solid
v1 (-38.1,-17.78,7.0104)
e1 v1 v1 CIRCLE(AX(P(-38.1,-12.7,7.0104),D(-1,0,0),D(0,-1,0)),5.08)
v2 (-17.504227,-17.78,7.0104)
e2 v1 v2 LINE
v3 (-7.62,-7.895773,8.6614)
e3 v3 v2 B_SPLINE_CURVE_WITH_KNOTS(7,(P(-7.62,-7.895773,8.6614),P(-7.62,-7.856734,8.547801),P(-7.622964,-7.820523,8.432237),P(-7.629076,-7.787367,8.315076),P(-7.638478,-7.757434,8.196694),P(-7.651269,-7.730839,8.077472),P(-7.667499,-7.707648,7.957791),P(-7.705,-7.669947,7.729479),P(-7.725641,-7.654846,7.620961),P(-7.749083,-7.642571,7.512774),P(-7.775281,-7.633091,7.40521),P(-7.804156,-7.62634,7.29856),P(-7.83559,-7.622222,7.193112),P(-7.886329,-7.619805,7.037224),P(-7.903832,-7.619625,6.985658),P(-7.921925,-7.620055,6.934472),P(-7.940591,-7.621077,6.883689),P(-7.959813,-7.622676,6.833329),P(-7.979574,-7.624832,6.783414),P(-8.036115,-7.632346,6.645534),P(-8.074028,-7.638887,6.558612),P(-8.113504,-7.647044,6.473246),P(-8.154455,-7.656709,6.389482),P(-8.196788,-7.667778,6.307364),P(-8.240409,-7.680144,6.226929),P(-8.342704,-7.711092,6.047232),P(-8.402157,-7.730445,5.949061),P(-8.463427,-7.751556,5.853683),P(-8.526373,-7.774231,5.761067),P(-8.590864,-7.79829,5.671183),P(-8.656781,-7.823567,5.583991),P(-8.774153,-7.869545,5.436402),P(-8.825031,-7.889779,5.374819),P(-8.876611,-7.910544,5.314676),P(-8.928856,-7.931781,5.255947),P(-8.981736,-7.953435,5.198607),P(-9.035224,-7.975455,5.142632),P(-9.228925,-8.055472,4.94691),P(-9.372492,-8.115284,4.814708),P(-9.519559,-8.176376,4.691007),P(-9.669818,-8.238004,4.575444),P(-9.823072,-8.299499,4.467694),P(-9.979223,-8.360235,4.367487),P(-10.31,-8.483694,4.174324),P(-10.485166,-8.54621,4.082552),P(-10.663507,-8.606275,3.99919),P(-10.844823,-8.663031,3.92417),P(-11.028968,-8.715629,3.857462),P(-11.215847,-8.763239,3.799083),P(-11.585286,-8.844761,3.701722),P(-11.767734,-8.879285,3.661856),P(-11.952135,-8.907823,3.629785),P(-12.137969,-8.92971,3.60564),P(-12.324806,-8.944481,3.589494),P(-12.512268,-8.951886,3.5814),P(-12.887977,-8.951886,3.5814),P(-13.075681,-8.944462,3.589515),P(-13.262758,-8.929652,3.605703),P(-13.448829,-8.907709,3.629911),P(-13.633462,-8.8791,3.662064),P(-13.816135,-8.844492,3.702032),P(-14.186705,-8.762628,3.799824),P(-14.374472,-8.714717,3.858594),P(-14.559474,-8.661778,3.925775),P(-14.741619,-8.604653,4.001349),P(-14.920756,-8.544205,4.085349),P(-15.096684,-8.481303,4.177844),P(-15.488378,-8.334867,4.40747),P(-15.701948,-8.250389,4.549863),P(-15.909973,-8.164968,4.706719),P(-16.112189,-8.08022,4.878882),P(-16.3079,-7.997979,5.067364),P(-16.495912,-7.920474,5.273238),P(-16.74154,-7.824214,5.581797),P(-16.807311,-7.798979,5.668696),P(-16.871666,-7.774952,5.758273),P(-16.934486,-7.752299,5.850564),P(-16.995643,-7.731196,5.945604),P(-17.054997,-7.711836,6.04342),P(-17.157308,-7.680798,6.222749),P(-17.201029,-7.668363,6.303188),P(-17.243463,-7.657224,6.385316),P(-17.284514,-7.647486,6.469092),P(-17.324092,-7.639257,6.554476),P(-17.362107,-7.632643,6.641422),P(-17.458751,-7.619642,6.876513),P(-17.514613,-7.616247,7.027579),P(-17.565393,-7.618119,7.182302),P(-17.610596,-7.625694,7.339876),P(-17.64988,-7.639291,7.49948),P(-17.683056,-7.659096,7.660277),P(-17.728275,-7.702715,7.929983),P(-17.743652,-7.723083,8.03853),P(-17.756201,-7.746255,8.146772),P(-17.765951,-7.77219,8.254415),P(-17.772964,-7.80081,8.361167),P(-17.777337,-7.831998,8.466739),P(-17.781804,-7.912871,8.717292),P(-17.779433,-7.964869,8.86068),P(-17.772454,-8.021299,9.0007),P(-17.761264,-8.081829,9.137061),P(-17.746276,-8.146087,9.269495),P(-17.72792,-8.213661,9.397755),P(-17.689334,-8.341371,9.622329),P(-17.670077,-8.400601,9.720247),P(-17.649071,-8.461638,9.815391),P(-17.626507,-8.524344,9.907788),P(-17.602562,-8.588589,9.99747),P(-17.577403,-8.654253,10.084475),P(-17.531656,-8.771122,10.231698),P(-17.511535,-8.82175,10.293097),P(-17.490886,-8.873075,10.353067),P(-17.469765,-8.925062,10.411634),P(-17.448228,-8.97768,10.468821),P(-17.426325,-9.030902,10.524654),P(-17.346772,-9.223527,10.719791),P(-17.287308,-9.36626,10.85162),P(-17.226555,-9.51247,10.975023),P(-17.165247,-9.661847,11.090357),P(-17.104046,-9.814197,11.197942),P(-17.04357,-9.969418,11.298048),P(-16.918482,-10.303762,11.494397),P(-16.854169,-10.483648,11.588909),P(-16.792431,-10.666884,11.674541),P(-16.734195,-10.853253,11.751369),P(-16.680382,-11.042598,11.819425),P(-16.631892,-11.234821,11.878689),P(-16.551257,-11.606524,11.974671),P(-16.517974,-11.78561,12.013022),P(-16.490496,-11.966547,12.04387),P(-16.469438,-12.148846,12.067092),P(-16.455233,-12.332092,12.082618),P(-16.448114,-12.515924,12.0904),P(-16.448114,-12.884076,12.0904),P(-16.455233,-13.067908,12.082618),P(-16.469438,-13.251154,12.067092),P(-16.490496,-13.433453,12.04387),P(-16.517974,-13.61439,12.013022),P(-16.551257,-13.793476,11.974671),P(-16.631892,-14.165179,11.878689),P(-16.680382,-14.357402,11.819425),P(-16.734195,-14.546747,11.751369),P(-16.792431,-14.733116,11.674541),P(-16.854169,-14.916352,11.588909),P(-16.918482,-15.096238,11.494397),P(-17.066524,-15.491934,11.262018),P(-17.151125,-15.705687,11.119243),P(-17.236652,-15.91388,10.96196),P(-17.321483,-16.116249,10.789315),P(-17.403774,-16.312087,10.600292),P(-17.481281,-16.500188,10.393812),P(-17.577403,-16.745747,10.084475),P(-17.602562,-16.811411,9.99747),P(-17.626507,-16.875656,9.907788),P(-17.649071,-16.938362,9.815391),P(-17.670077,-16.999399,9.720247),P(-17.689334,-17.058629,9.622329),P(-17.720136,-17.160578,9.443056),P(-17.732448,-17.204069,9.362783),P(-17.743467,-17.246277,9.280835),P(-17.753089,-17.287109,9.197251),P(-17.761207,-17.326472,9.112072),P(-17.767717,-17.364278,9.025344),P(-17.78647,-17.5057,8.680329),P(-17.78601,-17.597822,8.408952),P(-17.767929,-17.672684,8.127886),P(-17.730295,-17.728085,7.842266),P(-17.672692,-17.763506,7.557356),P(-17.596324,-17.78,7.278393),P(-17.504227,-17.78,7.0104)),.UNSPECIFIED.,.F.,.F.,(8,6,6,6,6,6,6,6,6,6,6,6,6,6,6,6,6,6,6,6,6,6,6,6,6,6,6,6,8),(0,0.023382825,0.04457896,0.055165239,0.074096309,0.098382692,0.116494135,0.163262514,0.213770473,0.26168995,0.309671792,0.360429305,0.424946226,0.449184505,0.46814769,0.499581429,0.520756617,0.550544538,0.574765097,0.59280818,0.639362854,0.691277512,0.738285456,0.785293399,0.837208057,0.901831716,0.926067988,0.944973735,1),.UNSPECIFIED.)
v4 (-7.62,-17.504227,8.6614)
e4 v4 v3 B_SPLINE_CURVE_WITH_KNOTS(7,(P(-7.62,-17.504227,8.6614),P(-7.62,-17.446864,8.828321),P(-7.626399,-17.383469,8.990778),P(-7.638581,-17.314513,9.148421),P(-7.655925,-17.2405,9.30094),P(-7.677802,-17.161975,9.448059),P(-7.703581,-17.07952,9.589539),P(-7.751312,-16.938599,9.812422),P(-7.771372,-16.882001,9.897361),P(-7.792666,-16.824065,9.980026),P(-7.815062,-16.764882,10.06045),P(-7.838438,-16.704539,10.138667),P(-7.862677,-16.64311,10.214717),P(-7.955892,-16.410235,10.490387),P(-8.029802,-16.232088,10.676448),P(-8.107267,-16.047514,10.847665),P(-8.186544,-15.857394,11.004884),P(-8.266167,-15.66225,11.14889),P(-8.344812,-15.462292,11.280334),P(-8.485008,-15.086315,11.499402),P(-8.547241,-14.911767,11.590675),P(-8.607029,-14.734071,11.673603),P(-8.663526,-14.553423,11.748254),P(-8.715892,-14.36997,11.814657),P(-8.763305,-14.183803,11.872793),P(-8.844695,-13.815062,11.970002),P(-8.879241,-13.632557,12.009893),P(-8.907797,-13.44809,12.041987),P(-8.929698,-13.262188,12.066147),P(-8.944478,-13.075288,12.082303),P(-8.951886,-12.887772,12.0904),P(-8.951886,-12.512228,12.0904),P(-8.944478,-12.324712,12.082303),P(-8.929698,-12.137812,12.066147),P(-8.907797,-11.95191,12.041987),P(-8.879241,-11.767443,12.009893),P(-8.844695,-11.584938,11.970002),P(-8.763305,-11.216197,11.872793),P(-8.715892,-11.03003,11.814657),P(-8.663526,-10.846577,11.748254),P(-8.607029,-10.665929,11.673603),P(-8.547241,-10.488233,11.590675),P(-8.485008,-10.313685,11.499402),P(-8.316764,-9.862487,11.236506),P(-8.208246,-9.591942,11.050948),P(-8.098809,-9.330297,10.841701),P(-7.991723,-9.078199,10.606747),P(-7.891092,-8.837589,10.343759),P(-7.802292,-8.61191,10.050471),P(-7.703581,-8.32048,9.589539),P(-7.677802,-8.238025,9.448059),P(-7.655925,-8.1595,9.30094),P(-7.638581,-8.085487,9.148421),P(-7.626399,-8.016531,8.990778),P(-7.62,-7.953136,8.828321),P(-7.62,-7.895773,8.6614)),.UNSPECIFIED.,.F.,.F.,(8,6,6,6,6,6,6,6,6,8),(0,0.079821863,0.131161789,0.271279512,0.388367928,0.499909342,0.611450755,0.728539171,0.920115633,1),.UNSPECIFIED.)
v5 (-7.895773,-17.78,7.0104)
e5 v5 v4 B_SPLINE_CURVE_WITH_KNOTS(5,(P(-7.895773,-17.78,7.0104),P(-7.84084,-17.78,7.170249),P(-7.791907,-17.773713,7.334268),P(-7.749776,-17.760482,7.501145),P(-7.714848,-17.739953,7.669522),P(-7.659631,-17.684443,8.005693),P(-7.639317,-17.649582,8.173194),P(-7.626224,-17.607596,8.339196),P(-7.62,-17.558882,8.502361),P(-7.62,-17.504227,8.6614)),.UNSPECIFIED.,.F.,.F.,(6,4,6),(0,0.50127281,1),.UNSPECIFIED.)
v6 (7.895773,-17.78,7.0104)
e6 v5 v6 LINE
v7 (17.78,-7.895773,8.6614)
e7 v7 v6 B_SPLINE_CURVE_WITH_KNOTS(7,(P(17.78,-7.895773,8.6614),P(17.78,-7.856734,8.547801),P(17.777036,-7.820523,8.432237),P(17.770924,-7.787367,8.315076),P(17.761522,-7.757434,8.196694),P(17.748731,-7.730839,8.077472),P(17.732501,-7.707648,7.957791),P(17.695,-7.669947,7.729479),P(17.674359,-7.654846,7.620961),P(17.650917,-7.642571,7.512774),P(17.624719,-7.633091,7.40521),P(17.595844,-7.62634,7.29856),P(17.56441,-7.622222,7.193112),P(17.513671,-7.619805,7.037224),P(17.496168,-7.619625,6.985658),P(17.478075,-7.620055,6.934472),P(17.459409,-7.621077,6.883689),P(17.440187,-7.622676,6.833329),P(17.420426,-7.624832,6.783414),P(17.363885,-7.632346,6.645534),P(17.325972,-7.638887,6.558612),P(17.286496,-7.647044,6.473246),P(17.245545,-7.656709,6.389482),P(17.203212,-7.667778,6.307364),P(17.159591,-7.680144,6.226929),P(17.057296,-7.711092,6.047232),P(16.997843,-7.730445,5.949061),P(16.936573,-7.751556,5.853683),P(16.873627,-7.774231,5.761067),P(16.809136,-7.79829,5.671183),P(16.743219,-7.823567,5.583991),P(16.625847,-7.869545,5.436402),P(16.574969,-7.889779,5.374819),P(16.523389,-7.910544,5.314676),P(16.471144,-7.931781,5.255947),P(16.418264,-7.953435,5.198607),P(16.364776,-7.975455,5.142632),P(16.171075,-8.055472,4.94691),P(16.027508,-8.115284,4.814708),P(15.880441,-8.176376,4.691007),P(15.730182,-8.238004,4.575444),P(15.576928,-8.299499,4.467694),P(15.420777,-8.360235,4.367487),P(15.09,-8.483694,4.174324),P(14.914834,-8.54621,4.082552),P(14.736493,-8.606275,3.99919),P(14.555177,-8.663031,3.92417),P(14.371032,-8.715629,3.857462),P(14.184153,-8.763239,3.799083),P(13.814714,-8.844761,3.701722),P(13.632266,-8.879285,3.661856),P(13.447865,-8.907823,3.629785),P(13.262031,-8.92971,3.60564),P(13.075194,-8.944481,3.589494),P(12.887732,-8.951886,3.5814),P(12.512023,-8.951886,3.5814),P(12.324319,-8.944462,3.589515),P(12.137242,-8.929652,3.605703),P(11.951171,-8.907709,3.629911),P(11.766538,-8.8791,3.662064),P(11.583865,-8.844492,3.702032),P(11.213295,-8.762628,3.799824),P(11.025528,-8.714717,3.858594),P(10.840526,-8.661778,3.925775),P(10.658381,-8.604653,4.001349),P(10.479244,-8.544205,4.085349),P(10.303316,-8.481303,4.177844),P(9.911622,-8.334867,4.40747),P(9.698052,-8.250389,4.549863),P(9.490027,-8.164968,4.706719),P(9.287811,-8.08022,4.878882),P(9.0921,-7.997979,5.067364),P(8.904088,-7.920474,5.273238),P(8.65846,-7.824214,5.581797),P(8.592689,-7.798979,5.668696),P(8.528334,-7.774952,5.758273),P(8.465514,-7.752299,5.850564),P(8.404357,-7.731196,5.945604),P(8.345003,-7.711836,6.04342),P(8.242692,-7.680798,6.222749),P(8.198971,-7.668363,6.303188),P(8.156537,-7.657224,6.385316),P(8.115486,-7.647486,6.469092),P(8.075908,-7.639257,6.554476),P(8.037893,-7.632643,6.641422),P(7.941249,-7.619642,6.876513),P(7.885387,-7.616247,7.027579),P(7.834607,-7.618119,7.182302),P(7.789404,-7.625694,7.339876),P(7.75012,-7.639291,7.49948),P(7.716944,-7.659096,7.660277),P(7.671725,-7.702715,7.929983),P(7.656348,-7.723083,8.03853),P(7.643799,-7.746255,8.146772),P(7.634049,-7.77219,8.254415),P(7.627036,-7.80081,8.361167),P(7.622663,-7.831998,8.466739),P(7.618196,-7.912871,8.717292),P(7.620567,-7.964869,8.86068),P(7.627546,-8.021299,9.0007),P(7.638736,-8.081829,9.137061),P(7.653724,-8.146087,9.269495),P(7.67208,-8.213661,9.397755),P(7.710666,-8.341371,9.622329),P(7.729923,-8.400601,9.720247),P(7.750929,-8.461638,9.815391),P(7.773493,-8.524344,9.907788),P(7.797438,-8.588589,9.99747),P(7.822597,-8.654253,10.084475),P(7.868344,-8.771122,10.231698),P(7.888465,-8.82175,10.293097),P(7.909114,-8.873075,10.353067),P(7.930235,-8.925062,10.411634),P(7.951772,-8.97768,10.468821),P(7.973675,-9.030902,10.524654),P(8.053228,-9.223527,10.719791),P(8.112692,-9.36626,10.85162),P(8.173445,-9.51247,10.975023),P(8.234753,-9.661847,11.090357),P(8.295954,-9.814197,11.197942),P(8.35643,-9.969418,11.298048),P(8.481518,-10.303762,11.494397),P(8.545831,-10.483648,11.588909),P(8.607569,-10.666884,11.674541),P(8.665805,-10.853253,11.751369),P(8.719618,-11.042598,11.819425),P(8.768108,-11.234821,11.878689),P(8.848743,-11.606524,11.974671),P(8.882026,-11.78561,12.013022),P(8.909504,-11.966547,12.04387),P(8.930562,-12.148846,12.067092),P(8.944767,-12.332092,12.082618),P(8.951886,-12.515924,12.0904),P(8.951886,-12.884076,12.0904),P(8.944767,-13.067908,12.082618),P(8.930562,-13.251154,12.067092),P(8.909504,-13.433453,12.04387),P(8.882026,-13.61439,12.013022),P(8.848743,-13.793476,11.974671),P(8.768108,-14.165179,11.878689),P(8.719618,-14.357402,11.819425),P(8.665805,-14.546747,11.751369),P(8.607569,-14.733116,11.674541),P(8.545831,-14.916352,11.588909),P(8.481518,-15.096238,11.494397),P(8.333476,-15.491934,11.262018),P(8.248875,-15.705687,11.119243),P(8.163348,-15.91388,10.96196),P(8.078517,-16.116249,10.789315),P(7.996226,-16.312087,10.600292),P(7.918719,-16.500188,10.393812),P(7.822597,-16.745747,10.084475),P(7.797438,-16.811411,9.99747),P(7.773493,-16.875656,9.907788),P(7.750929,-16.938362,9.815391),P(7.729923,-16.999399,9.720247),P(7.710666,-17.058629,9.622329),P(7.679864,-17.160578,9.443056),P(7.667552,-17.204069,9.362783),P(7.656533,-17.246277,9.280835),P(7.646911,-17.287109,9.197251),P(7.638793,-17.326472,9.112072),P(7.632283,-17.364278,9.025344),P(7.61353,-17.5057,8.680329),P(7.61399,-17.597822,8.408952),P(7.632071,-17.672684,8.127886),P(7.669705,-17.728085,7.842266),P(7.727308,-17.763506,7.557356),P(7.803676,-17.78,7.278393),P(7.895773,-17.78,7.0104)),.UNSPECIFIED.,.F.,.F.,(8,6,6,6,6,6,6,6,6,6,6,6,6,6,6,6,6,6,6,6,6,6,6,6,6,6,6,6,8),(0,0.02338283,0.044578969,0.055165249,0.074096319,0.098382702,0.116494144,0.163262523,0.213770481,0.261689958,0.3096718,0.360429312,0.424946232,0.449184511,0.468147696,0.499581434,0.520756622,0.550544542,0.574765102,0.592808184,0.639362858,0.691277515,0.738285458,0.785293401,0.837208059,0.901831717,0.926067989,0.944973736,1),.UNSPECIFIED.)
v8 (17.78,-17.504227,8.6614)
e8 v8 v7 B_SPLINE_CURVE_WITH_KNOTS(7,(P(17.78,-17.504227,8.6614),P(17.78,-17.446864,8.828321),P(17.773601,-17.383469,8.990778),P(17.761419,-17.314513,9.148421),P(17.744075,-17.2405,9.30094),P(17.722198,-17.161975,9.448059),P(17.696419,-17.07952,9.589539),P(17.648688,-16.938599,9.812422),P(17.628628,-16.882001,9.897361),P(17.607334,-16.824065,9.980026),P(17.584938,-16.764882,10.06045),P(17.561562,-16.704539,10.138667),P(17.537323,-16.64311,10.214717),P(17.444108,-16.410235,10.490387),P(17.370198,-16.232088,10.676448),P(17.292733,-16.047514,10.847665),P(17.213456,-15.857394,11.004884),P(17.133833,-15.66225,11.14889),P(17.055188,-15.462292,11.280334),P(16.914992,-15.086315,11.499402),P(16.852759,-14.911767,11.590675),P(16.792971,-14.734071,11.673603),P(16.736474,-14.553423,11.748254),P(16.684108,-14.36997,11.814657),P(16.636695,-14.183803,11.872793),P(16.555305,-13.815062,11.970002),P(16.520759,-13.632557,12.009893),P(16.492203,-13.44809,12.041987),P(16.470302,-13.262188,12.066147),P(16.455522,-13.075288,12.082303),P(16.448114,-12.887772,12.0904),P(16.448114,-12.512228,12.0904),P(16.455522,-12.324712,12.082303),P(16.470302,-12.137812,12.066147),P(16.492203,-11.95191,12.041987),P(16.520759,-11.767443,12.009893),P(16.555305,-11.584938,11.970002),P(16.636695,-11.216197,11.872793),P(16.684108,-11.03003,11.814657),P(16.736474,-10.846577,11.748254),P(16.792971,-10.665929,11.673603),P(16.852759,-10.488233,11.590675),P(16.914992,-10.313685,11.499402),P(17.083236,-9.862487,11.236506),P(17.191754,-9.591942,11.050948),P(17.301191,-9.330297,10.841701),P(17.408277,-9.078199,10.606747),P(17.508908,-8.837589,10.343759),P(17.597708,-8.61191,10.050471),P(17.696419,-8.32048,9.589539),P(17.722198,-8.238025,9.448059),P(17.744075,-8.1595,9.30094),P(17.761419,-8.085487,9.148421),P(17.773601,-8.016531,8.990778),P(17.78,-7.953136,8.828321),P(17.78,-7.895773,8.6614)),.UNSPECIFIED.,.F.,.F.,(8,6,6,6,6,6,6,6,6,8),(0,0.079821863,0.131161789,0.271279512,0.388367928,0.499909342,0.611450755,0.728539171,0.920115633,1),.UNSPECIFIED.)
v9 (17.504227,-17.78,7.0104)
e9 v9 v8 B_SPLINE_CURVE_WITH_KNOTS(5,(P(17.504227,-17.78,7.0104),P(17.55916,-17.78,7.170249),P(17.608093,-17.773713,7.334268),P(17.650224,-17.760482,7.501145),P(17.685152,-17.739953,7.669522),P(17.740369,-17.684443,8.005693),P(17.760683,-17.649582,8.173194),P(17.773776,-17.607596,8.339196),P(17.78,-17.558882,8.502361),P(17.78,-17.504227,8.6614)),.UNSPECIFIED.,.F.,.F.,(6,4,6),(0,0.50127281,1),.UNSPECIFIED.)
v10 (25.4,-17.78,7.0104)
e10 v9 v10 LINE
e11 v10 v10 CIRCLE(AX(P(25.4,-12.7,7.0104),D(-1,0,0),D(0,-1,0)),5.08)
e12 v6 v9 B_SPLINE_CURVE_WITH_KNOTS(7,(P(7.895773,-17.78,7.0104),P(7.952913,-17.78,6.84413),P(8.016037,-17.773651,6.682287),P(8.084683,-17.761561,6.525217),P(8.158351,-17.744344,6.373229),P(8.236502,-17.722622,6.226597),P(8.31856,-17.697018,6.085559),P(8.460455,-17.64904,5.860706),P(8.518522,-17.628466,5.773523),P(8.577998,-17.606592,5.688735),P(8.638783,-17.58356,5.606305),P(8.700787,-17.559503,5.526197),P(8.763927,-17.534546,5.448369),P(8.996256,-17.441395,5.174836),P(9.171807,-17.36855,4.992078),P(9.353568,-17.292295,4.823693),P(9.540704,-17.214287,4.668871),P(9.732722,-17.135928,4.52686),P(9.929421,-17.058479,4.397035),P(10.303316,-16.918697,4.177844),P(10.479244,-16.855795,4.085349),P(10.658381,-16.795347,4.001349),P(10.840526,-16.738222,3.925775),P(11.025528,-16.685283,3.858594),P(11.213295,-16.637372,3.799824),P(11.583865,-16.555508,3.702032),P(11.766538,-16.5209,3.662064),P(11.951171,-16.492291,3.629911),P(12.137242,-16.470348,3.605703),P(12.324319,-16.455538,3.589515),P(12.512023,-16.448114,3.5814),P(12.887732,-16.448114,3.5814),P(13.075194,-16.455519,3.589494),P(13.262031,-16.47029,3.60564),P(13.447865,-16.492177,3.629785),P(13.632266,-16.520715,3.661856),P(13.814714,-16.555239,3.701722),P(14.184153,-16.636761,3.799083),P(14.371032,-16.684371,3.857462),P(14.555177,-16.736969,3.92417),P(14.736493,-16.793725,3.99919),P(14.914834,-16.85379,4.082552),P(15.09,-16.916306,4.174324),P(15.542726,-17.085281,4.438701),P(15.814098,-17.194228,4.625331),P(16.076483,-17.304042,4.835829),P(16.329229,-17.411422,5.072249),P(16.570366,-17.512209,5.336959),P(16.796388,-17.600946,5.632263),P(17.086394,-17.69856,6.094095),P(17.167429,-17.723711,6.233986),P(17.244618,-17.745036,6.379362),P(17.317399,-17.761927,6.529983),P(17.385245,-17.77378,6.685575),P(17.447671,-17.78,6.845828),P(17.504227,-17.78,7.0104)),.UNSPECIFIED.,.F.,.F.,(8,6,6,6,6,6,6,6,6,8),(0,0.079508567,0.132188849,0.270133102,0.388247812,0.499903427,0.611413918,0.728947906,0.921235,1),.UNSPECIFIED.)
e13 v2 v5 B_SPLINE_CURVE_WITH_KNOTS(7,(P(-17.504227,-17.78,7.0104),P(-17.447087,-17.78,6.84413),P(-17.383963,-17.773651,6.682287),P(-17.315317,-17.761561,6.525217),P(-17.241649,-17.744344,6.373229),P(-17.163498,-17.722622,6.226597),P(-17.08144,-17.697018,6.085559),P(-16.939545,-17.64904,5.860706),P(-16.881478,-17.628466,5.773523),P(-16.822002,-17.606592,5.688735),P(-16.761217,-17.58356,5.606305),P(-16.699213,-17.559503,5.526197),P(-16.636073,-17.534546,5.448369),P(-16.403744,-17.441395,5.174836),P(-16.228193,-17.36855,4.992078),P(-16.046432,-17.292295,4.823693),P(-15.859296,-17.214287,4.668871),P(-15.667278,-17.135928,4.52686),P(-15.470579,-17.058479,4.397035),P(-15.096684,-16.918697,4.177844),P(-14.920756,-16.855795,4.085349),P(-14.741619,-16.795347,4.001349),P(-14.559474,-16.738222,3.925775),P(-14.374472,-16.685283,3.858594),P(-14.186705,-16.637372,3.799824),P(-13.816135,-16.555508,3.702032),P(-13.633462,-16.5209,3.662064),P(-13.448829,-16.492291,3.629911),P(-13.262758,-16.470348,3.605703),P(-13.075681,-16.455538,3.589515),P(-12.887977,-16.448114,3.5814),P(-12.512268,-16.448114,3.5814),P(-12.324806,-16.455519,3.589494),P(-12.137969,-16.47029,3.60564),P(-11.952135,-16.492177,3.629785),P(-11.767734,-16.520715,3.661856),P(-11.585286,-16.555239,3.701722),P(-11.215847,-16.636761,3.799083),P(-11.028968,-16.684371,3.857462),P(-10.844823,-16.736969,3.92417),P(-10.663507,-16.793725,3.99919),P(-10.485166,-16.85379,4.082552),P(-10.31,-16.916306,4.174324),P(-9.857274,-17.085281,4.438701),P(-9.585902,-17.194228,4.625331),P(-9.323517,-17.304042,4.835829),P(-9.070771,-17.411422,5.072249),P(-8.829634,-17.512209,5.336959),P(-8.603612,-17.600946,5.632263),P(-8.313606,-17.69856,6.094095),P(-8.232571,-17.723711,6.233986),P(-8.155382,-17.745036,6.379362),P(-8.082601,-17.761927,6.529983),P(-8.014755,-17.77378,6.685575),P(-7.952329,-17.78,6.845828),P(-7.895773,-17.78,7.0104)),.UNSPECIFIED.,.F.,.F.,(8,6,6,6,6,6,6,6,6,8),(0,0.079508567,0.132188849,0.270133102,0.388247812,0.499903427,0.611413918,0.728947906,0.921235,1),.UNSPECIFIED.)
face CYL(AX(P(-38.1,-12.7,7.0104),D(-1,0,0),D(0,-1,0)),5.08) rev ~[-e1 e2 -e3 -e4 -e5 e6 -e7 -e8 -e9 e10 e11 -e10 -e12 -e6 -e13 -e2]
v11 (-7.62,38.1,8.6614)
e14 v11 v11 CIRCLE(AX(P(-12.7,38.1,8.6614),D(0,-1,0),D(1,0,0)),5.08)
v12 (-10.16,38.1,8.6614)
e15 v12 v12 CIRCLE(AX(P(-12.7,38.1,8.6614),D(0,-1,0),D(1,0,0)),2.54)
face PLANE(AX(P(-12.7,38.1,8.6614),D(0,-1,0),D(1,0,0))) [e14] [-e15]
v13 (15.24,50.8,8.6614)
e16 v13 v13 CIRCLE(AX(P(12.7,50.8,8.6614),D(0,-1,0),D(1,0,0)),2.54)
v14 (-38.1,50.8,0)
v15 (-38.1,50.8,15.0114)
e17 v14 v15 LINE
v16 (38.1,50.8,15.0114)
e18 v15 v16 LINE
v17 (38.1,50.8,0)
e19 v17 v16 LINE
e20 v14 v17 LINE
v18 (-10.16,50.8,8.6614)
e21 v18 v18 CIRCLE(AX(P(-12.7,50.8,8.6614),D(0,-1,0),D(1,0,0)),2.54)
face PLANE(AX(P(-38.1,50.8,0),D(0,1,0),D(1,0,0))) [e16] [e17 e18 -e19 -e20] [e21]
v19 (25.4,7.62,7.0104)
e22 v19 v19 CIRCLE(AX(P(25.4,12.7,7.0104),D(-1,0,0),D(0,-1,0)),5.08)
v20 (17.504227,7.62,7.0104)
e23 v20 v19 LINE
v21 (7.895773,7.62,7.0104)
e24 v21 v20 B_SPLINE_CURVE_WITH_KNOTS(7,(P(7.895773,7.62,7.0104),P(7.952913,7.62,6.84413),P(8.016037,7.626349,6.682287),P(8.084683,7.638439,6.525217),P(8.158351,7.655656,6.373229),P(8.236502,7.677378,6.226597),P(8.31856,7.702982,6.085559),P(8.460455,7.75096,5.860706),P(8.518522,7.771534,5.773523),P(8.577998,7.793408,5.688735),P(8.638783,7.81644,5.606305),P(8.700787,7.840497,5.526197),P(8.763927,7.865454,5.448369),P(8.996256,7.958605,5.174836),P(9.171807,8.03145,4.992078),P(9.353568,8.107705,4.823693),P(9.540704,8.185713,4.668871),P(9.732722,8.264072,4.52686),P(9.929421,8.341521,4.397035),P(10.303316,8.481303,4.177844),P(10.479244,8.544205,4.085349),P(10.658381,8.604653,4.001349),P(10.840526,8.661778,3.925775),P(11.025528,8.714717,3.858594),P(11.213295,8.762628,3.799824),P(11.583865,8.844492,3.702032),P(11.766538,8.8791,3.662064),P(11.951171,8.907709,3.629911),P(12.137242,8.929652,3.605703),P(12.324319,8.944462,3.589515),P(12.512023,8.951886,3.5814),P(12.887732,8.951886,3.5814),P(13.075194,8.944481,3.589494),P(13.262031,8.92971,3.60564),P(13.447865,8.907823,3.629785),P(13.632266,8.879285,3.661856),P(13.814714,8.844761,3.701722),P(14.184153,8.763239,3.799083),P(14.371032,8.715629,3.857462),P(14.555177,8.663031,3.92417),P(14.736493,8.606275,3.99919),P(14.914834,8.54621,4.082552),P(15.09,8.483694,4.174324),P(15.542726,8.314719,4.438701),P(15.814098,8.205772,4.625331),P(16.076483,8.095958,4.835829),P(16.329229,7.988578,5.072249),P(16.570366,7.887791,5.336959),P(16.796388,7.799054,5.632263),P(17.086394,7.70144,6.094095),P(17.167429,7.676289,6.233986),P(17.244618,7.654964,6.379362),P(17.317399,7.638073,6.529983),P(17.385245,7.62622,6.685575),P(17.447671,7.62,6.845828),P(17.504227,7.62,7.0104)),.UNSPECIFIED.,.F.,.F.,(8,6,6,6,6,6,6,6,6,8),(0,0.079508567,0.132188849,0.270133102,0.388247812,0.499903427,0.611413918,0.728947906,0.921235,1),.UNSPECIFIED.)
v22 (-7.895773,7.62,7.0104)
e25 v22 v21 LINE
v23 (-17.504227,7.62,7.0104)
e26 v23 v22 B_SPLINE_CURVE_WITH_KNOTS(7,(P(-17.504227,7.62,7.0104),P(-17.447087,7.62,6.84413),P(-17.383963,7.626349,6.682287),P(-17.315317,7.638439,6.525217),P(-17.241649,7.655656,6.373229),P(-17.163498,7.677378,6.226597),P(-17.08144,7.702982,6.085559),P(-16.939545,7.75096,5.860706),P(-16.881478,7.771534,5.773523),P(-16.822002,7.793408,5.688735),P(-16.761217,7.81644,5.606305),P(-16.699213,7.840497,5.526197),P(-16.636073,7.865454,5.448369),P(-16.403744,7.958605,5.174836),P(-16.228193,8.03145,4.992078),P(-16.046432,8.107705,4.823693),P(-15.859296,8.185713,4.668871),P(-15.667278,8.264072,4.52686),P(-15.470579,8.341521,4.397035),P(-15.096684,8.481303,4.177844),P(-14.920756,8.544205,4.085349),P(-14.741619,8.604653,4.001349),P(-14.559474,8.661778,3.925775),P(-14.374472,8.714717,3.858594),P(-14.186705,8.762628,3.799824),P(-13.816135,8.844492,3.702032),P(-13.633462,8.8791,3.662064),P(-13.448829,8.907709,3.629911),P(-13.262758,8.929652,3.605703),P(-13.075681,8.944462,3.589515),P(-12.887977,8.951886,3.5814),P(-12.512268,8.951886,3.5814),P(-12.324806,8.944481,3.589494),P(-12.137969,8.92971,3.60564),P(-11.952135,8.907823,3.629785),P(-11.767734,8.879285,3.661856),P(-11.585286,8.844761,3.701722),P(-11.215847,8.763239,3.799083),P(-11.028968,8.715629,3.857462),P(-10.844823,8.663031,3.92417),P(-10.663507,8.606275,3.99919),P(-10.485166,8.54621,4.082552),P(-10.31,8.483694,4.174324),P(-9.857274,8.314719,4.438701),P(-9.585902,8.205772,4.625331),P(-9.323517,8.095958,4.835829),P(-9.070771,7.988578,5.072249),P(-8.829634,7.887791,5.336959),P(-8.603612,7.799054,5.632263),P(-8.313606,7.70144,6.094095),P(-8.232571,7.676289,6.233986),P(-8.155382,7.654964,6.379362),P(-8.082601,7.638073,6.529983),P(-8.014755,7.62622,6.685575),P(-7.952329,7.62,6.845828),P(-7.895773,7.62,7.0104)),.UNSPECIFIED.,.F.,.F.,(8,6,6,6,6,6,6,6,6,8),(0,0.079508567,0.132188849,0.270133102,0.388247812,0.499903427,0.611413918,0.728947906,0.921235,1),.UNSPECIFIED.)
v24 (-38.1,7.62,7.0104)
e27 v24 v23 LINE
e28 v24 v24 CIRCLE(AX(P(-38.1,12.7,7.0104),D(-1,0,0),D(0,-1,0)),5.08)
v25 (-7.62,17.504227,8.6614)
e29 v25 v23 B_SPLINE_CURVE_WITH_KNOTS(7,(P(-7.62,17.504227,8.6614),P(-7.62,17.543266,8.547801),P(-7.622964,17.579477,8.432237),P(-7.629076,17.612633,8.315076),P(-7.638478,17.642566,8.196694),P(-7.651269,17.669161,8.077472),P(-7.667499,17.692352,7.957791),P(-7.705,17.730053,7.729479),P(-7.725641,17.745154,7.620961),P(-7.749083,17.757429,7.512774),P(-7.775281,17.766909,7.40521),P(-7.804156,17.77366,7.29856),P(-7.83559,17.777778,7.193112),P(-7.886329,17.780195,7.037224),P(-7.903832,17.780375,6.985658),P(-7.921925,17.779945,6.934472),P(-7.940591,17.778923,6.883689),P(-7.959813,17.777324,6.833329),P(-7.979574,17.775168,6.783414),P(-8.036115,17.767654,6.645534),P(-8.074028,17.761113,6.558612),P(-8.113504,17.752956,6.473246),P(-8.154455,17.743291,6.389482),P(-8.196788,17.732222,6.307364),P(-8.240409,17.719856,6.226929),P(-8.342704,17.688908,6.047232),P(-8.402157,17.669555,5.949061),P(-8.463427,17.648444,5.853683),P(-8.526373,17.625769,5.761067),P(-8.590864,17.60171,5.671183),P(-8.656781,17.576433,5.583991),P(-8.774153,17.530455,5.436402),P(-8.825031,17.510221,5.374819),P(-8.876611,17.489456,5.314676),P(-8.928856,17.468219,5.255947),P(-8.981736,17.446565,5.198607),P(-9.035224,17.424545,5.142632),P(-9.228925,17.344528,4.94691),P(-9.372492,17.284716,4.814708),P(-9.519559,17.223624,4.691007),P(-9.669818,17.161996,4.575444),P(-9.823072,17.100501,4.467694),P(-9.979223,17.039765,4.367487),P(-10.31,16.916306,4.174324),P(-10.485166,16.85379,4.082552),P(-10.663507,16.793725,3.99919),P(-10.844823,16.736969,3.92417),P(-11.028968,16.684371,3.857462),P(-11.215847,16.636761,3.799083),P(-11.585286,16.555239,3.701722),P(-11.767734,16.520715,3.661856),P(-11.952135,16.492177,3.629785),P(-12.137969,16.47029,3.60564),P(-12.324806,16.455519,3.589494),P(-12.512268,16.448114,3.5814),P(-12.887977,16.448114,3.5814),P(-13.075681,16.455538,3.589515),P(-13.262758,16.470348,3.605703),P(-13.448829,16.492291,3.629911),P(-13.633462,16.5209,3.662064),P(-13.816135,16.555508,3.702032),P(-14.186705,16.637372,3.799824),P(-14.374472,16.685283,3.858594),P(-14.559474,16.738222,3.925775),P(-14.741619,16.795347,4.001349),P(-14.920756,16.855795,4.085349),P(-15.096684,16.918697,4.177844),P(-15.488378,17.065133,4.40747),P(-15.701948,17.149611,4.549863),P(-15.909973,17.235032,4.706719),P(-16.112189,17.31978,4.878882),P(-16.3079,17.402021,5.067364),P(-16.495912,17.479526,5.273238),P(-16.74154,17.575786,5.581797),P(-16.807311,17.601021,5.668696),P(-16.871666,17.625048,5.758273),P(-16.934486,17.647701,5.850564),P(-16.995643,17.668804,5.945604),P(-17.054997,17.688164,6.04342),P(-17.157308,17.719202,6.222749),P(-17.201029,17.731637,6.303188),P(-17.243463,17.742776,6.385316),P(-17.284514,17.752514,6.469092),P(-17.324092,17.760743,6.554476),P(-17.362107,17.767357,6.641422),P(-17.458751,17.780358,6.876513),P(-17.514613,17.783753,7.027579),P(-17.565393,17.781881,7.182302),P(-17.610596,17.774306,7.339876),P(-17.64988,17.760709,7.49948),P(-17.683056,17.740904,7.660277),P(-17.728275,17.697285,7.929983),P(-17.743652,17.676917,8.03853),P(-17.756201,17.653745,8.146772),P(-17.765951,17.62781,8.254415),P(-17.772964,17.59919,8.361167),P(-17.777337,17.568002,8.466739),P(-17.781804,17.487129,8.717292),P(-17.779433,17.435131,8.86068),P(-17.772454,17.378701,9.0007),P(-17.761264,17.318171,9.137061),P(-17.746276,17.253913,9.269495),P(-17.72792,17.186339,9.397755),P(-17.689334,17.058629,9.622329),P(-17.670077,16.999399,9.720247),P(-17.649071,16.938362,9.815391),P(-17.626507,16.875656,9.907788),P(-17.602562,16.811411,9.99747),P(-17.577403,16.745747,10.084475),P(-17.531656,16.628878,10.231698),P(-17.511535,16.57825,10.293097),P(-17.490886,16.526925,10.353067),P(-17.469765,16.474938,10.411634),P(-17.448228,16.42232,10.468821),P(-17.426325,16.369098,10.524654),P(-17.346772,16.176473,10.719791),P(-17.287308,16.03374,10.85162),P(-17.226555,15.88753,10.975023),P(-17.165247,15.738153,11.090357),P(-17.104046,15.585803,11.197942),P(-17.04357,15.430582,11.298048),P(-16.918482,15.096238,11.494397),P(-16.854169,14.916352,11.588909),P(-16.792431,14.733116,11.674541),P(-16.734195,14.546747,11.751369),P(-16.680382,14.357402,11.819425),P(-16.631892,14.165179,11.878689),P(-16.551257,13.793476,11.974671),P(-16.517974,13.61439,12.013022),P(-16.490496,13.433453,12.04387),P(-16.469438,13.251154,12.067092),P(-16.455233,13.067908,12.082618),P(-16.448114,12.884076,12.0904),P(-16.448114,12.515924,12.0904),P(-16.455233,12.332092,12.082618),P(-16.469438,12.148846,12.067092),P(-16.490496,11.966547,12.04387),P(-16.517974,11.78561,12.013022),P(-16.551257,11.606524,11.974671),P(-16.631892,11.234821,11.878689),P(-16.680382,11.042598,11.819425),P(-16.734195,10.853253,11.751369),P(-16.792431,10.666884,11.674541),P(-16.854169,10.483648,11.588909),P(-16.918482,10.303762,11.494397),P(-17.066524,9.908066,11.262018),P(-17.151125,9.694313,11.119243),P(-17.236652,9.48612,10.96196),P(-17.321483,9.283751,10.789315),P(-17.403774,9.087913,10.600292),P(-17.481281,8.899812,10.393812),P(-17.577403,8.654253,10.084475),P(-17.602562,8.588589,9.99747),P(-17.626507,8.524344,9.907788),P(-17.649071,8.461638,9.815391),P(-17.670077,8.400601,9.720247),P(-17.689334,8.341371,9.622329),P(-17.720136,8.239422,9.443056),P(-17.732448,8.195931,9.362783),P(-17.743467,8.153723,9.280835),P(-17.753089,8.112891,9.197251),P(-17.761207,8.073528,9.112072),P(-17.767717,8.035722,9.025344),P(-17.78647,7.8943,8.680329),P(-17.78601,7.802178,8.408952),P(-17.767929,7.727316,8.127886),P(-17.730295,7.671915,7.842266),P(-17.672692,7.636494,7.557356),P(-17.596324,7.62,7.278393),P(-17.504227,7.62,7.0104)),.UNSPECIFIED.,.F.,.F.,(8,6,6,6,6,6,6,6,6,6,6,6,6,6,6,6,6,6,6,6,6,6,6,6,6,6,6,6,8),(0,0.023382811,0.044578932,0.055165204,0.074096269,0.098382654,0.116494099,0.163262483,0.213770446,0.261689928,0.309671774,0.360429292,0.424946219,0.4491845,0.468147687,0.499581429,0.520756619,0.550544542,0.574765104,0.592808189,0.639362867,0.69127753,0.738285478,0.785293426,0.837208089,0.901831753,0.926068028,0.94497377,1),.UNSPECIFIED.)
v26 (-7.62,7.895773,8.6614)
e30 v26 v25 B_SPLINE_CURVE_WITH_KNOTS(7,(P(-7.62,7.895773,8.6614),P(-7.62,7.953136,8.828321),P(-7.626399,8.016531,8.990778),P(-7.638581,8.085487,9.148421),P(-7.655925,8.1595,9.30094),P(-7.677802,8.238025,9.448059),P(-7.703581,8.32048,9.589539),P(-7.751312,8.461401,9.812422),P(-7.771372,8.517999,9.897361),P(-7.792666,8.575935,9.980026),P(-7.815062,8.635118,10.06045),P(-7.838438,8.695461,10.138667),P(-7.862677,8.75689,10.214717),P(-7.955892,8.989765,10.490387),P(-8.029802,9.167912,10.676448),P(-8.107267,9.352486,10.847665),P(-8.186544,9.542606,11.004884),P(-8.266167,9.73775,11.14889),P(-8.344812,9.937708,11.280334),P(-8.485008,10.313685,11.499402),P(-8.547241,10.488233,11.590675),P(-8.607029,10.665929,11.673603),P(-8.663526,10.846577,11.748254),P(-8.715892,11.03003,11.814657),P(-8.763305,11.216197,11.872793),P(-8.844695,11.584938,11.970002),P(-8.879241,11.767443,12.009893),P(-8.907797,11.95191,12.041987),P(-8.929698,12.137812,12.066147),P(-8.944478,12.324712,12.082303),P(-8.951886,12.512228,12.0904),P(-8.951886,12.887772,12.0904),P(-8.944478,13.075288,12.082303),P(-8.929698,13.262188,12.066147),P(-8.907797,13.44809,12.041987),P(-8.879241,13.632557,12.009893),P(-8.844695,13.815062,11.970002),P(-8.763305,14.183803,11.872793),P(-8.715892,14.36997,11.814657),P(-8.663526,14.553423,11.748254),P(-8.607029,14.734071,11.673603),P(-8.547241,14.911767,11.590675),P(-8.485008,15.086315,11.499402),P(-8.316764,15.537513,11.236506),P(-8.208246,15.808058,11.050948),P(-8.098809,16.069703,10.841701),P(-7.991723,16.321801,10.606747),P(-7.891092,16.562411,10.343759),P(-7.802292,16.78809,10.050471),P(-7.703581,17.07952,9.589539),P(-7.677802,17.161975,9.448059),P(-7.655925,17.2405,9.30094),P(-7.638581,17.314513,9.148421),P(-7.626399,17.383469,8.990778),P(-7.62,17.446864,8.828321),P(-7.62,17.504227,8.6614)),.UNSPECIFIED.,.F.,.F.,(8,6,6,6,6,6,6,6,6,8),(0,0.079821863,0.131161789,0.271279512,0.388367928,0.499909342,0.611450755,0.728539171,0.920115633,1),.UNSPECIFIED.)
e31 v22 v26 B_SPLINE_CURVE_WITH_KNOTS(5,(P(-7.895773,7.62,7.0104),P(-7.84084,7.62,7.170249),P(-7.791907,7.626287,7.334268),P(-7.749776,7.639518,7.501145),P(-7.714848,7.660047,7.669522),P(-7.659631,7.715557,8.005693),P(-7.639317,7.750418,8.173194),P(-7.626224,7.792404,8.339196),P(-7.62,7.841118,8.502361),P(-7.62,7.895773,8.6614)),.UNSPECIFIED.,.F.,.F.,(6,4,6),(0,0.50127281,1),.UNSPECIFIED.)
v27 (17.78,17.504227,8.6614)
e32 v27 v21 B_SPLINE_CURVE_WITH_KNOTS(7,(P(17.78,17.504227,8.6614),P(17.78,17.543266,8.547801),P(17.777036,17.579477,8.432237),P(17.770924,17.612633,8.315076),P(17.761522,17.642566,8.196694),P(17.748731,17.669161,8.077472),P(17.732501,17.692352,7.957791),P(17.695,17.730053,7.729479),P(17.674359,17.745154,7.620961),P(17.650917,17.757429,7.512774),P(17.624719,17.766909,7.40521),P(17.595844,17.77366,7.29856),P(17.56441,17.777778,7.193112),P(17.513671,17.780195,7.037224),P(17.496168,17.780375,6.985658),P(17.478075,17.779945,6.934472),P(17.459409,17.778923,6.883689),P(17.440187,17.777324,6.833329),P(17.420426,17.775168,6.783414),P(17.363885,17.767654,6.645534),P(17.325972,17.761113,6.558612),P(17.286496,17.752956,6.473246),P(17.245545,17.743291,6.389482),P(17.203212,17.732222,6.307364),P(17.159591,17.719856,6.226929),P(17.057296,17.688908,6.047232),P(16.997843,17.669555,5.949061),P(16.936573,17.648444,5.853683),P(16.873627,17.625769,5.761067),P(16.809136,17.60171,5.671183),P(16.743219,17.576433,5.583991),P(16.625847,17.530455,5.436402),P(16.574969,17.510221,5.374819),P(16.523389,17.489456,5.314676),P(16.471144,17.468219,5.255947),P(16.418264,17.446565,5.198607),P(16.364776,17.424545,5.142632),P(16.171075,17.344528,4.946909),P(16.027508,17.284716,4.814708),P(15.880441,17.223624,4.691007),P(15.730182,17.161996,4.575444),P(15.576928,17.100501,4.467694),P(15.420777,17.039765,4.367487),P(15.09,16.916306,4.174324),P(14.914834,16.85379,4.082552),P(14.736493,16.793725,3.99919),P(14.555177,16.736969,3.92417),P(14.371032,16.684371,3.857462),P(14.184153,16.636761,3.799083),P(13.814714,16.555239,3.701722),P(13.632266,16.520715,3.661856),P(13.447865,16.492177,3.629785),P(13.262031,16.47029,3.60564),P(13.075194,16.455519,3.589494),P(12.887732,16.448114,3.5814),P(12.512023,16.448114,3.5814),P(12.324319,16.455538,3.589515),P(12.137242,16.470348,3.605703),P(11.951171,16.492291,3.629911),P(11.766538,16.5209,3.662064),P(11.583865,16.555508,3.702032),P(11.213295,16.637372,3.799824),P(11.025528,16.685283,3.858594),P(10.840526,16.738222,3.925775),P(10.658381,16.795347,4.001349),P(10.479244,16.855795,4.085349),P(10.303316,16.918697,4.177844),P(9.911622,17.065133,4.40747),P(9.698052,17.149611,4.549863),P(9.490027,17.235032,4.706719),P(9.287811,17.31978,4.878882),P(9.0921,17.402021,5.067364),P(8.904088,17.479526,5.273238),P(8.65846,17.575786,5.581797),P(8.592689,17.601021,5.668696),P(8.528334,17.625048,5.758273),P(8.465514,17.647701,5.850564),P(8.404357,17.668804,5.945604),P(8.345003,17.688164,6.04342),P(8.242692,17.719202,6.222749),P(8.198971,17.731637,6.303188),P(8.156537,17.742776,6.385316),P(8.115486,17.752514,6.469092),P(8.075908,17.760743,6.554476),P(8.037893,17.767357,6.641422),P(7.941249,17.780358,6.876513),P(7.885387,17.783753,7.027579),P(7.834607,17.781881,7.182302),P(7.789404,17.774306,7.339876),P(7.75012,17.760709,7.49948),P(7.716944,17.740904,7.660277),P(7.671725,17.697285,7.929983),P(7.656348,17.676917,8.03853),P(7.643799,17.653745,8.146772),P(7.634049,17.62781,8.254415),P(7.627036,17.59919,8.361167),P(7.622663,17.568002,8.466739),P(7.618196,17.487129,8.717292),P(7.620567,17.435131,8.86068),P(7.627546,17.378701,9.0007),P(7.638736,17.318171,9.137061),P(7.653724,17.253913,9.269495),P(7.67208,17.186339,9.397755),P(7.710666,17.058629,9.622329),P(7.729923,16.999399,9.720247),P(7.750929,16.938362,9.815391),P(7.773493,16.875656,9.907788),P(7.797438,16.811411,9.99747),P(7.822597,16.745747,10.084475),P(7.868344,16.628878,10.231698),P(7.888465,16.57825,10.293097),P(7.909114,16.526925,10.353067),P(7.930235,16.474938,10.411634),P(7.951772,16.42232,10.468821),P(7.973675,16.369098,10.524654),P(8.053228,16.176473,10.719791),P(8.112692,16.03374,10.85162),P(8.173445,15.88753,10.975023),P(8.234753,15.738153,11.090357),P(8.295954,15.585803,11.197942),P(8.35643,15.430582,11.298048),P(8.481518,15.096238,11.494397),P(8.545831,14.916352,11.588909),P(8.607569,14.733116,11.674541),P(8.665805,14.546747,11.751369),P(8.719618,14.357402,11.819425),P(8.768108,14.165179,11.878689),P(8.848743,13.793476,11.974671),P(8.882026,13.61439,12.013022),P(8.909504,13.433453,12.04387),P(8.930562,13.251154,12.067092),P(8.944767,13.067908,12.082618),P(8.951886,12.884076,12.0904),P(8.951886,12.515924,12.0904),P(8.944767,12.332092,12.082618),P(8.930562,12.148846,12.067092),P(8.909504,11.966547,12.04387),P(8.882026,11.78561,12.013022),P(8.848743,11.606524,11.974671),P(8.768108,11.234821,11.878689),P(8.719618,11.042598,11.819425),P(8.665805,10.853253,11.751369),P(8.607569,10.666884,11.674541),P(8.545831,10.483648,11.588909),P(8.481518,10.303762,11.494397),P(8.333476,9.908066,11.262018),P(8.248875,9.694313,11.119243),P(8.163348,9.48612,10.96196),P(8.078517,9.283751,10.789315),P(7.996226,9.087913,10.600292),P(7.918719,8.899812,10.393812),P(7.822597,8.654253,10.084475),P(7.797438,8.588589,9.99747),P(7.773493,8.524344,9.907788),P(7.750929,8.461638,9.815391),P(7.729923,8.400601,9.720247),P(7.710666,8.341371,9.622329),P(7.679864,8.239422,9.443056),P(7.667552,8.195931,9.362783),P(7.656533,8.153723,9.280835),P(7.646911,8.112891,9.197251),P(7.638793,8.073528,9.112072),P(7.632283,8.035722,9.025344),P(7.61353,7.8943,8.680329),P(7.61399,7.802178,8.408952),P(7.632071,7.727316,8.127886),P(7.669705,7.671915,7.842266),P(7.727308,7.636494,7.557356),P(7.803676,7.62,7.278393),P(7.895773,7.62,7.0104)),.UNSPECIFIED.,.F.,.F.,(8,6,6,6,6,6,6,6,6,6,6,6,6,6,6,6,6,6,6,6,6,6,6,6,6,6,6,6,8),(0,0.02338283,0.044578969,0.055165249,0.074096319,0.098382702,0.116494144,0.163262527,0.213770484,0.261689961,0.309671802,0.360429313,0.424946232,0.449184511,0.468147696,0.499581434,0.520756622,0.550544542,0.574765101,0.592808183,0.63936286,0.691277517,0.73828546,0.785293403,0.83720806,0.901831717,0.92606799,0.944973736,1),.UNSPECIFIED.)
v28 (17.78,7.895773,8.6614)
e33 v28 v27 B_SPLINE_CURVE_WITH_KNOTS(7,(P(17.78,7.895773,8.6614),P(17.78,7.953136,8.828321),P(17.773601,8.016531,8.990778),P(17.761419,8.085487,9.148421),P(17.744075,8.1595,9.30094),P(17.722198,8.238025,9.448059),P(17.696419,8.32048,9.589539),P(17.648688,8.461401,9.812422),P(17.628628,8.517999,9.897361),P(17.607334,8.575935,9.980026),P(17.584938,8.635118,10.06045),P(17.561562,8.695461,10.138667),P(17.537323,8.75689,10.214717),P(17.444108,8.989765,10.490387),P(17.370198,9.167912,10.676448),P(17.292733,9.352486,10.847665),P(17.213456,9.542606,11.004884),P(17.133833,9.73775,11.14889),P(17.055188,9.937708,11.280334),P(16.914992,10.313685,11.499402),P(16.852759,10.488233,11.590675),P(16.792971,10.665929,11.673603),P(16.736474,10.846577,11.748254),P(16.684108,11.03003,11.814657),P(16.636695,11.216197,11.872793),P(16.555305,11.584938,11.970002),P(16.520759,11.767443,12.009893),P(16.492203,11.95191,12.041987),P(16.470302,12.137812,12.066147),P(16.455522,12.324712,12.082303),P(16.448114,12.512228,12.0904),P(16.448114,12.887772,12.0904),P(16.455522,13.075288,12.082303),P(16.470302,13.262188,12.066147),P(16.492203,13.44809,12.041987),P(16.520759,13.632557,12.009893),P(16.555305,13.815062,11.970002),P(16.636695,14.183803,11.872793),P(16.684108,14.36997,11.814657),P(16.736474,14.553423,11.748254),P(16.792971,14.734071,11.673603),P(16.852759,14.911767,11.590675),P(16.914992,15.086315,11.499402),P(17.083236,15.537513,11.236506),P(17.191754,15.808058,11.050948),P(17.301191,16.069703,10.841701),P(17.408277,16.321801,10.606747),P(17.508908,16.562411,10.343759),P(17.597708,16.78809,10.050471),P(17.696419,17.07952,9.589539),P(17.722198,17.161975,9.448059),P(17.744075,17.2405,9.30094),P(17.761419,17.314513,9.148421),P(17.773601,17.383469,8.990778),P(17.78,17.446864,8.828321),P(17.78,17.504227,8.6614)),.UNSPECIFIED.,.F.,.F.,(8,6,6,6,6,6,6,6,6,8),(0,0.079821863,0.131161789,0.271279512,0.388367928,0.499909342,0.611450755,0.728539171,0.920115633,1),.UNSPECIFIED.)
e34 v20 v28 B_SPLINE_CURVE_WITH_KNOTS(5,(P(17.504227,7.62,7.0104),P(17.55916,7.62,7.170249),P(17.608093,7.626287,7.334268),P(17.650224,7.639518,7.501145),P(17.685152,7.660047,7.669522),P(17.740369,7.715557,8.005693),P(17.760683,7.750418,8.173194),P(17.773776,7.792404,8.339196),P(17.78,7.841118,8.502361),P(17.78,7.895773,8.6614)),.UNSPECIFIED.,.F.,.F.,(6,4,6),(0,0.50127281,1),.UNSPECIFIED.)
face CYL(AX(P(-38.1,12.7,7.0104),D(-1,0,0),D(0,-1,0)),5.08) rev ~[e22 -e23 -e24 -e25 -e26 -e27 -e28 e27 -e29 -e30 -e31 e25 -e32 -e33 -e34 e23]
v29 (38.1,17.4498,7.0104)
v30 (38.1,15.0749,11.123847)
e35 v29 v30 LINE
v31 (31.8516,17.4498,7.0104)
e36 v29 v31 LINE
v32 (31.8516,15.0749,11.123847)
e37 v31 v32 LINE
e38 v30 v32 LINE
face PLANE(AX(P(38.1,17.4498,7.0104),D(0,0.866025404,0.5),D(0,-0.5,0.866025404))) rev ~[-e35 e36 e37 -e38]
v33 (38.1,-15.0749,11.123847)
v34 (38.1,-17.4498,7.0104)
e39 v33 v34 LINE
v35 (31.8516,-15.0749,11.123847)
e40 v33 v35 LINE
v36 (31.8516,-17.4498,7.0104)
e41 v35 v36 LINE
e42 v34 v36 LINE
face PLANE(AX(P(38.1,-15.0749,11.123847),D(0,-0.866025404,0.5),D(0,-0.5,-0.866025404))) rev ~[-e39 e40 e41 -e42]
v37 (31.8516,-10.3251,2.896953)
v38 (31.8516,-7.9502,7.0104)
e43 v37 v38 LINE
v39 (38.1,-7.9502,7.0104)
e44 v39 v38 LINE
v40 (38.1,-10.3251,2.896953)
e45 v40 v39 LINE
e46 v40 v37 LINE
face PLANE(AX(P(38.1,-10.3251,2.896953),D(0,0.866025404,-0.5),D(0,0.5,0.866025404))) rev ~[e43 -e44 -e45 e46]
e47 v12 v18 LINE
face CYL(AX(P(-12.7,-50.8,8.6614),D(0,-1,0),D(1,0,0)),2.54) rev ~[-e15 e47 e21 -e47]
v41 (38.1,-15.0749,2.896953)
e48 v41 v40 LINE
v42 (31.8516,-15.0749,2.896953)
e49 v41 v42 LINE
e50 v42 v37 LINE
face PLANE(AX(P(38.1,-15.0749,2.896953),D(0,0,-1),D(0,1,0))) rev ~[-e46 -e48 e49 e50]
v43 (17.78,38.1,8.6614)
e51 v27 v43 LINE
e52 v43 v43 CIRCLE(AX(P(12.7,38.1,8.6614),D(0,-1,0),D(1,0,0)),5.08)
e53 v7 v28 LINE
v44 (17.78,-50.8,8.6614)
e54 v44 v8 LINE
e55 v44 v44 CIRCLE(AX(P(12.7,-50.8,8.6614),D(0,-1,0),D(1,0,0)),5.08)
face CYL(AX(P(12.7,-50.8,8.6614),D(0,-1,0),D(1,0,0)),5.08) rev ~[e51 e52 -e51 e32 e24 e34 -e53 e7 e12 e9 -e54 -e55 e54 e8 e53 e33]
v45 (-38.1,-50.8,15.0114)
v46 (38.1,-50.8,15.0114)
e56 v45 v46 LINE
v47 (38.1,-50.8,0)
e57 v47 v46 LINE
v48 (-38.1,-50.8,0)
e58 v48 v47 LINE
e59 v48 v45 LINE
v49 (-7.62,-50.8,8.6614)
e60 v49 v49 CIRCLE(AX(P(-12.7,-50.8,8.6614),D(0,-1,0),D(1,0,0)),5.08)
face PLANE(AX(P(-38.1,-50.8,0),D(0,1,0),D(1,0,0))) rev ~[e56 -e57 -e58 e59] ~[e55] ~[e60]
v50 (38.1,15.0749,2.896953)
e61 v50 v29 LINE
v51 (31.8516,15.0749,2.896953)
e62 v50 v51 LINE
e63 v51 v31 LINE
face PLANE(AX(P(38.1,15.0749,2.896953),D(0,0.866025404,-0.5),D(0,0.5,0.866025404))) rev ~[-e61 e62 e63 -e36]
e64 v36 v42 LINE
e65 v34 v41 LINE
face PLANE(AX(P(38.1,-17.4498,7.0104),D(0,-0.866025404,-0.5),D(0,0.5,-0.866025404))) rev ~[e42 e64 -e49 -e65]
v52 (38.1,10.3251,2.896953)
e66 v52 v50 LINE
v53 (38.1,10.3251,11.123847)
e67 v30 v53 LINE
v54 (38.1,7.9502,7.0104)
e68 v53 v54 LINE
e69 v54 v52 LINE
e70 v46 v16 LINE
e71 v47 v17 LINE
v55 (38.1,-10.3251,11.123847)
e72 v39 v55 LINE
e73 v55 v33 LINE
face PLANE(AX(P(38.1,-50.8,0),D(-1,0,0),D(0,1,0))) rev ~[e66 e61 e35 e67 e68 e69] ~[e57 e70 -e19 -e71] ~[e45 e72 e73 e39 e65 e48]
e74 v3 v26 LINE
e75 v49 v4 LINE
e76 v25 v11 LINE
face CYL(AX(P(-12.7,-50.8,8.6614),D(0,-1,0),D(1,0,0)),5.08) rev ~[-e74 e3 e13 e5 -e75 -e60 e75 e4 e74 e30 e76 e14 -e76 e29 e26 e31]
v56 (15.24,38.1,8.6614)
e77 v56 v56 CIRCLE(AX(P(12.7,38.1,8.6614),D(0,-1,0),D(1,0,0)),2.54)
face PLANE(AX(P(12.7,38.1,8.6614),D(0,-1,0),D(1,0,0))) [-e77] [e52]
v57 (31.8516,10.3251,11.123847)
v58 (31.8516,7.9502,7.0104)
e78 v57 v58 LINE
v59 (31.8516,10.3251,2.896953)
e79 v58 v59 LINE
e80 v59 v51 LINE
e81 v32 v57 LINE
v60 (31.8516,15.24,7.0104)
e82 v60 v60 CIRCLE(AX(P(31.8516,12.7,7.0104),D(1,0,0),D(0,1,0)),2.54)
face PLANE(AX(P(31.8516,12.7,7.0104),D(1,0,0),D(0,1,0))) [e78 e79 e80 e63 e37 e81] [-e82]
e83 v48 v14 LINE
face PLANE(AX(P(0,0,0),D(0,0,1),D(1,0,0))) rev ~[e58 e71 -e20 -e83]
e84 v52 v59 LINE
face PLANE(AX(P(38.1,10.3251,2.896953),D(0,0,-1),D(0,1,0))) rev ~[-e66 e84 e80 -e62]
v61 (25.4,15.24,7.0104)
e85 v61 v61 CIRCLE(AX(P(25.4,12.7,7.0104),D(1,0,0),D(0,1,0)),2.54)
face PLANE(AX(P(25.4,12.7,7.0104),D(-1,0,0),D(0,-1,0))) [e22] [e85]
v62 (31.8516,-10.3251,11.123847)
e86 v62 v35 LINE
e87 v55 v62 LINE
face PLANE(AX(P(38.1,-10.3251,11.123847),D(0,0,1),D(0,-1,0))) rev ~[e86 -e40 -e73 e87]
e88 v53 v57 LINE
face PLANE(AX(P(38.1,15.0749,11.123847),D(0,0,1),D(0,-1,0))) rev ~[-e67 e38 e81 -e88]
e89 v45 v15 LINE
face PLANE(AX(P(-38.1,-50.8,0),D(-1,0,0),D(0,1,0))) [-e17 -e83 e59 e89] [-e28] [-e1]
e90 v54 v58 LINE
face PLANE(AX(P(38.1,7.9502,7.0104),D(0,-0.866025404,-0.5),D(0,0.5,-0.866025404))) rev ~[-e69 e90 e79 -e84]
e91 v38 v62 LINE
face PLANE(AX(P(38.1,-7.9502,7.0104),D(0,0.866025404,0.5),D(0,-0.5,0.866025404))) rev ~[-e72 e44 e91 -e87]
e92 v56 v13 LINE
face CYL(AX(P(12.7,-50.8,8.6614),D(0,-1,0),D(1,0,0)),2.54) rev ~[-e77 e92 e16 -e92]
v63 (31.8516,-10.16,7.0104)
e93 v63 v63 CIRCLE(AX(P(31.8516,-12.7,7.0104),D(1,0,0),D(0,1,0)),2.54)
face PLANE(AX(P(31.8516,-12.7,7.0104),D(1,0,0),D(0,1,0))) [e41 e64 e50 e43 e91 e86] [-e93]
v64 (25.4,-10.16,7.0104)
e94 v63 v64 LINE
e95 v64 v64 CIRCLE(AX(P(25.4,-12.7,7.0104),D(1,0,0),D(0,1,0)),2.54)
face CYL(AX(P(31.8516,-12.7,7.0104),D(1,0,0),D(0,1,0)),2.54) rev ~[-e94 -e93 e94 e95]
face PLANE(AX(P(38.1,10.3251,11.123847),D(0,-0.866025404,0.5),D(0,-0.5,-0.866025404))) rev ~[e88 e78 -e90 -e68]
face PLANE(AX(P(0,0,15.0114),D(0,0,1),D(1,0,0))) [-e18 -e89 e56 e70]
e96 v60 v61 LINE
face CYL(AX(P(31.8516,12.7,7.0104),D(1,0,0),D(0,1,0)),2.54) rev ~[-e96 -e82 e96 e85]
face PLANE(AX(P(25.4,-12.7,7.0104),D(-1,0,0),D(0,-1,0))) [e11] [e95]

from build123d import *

# Parameters (mm, degrees)
F0_W      = 76.2
F0_H      = 101.6
F1_DEPTH  = 15.0114
F2_R      = 2.54
F3_DEPTH  = 101.601
F4_R      = 5.08
F5_DEPTH  = 88.9
F7_DEPTH  = 6.2484
F8_R      = 2.54
F9_DEPTH  = 69.9526
F10_R     = 5.08
F11_DEPTH = 63.5


with BuildPart() as f1:
    # F0 (on Top) → F1 (new body)
    with BuildSketch(Plane.XY):
        Rectangle(F0_W, F0_H)
    extrude(amount=F1_DEPTH)

    # F2 (on face) → F3 (cut, through all)
    with BuildSketch(Plane.XZ.offset(50.8)):
        with Locations((-12.7, 8.6614)):
            Circle(F2_R)
        with Locations((12.7, 8.6614)):
            Circle(F2_R)
    extrude(amount=-F3_DEPTH, mode=Mode.SUBTRACT)

    # F4 (on face) → F5 (cut, through all)
    with BuildSketch(Plane.XZ.offset(50.8)):
        with Locations((-12.7, 8.6614)):
            Circle(F4_R)
        with Locations((12.7, 8.6614)):
            Circle(F4_R)
    extrude(amount=-F5_DEPTH, mode=Mode.SUBTRACT)

    # F6 (on face) → F7 (cut)
    with BuildSketch(Plane.YZ.offset(38.1)):
        Polygon((-15.0749, 11.1238474629), (-17.4498, 7.0104), (-15.0749, 2.8969525371), (-10.3251, 2.8969525371), (-7.9502, 7.0104), (-10.3251, 11.1238474629), align=None)
        Polygon((10.3251, 11.1238474629), (7.9502, 7.0104), (10.3251, 2.8969525371), (15.0749, 2.8969525371), (17.4498, 7.0104), (15.0749, 11.1238474629), align=None)
    extrude(amount=-F7_DEPTH, mode=Mode.SUBTRACT)

    # F8 (on face) → F9 (cut, through all)
    with BuildSketch(Plane.YZ.offset(31.8516)):
        with Locations((-12.7, 7.0104)):
            Circle(F8_R)
        with Locations((12.7, 7.0104)):
            Circle(F8_R)
    extrude(amount=-F9_DEPTH, mode=Mode.SUBTRACT)

    # F10 (on face) → F11 (cut, through all)
    with BuildSketch(Plane(origin=(-38.1, 0, 0), x_dir=(0, -1, 0), z_dir=(-1, 0, 0))):
        with Locations((-12.7, 7.0104)):
            Circle(F10_R)
        with Locations((12.7, 7.0104)):
            Circle(F10_R)
    extrude(amount=-F11_DEPTH, mode=Mode.SUBTRACT)


solid = f1.part
